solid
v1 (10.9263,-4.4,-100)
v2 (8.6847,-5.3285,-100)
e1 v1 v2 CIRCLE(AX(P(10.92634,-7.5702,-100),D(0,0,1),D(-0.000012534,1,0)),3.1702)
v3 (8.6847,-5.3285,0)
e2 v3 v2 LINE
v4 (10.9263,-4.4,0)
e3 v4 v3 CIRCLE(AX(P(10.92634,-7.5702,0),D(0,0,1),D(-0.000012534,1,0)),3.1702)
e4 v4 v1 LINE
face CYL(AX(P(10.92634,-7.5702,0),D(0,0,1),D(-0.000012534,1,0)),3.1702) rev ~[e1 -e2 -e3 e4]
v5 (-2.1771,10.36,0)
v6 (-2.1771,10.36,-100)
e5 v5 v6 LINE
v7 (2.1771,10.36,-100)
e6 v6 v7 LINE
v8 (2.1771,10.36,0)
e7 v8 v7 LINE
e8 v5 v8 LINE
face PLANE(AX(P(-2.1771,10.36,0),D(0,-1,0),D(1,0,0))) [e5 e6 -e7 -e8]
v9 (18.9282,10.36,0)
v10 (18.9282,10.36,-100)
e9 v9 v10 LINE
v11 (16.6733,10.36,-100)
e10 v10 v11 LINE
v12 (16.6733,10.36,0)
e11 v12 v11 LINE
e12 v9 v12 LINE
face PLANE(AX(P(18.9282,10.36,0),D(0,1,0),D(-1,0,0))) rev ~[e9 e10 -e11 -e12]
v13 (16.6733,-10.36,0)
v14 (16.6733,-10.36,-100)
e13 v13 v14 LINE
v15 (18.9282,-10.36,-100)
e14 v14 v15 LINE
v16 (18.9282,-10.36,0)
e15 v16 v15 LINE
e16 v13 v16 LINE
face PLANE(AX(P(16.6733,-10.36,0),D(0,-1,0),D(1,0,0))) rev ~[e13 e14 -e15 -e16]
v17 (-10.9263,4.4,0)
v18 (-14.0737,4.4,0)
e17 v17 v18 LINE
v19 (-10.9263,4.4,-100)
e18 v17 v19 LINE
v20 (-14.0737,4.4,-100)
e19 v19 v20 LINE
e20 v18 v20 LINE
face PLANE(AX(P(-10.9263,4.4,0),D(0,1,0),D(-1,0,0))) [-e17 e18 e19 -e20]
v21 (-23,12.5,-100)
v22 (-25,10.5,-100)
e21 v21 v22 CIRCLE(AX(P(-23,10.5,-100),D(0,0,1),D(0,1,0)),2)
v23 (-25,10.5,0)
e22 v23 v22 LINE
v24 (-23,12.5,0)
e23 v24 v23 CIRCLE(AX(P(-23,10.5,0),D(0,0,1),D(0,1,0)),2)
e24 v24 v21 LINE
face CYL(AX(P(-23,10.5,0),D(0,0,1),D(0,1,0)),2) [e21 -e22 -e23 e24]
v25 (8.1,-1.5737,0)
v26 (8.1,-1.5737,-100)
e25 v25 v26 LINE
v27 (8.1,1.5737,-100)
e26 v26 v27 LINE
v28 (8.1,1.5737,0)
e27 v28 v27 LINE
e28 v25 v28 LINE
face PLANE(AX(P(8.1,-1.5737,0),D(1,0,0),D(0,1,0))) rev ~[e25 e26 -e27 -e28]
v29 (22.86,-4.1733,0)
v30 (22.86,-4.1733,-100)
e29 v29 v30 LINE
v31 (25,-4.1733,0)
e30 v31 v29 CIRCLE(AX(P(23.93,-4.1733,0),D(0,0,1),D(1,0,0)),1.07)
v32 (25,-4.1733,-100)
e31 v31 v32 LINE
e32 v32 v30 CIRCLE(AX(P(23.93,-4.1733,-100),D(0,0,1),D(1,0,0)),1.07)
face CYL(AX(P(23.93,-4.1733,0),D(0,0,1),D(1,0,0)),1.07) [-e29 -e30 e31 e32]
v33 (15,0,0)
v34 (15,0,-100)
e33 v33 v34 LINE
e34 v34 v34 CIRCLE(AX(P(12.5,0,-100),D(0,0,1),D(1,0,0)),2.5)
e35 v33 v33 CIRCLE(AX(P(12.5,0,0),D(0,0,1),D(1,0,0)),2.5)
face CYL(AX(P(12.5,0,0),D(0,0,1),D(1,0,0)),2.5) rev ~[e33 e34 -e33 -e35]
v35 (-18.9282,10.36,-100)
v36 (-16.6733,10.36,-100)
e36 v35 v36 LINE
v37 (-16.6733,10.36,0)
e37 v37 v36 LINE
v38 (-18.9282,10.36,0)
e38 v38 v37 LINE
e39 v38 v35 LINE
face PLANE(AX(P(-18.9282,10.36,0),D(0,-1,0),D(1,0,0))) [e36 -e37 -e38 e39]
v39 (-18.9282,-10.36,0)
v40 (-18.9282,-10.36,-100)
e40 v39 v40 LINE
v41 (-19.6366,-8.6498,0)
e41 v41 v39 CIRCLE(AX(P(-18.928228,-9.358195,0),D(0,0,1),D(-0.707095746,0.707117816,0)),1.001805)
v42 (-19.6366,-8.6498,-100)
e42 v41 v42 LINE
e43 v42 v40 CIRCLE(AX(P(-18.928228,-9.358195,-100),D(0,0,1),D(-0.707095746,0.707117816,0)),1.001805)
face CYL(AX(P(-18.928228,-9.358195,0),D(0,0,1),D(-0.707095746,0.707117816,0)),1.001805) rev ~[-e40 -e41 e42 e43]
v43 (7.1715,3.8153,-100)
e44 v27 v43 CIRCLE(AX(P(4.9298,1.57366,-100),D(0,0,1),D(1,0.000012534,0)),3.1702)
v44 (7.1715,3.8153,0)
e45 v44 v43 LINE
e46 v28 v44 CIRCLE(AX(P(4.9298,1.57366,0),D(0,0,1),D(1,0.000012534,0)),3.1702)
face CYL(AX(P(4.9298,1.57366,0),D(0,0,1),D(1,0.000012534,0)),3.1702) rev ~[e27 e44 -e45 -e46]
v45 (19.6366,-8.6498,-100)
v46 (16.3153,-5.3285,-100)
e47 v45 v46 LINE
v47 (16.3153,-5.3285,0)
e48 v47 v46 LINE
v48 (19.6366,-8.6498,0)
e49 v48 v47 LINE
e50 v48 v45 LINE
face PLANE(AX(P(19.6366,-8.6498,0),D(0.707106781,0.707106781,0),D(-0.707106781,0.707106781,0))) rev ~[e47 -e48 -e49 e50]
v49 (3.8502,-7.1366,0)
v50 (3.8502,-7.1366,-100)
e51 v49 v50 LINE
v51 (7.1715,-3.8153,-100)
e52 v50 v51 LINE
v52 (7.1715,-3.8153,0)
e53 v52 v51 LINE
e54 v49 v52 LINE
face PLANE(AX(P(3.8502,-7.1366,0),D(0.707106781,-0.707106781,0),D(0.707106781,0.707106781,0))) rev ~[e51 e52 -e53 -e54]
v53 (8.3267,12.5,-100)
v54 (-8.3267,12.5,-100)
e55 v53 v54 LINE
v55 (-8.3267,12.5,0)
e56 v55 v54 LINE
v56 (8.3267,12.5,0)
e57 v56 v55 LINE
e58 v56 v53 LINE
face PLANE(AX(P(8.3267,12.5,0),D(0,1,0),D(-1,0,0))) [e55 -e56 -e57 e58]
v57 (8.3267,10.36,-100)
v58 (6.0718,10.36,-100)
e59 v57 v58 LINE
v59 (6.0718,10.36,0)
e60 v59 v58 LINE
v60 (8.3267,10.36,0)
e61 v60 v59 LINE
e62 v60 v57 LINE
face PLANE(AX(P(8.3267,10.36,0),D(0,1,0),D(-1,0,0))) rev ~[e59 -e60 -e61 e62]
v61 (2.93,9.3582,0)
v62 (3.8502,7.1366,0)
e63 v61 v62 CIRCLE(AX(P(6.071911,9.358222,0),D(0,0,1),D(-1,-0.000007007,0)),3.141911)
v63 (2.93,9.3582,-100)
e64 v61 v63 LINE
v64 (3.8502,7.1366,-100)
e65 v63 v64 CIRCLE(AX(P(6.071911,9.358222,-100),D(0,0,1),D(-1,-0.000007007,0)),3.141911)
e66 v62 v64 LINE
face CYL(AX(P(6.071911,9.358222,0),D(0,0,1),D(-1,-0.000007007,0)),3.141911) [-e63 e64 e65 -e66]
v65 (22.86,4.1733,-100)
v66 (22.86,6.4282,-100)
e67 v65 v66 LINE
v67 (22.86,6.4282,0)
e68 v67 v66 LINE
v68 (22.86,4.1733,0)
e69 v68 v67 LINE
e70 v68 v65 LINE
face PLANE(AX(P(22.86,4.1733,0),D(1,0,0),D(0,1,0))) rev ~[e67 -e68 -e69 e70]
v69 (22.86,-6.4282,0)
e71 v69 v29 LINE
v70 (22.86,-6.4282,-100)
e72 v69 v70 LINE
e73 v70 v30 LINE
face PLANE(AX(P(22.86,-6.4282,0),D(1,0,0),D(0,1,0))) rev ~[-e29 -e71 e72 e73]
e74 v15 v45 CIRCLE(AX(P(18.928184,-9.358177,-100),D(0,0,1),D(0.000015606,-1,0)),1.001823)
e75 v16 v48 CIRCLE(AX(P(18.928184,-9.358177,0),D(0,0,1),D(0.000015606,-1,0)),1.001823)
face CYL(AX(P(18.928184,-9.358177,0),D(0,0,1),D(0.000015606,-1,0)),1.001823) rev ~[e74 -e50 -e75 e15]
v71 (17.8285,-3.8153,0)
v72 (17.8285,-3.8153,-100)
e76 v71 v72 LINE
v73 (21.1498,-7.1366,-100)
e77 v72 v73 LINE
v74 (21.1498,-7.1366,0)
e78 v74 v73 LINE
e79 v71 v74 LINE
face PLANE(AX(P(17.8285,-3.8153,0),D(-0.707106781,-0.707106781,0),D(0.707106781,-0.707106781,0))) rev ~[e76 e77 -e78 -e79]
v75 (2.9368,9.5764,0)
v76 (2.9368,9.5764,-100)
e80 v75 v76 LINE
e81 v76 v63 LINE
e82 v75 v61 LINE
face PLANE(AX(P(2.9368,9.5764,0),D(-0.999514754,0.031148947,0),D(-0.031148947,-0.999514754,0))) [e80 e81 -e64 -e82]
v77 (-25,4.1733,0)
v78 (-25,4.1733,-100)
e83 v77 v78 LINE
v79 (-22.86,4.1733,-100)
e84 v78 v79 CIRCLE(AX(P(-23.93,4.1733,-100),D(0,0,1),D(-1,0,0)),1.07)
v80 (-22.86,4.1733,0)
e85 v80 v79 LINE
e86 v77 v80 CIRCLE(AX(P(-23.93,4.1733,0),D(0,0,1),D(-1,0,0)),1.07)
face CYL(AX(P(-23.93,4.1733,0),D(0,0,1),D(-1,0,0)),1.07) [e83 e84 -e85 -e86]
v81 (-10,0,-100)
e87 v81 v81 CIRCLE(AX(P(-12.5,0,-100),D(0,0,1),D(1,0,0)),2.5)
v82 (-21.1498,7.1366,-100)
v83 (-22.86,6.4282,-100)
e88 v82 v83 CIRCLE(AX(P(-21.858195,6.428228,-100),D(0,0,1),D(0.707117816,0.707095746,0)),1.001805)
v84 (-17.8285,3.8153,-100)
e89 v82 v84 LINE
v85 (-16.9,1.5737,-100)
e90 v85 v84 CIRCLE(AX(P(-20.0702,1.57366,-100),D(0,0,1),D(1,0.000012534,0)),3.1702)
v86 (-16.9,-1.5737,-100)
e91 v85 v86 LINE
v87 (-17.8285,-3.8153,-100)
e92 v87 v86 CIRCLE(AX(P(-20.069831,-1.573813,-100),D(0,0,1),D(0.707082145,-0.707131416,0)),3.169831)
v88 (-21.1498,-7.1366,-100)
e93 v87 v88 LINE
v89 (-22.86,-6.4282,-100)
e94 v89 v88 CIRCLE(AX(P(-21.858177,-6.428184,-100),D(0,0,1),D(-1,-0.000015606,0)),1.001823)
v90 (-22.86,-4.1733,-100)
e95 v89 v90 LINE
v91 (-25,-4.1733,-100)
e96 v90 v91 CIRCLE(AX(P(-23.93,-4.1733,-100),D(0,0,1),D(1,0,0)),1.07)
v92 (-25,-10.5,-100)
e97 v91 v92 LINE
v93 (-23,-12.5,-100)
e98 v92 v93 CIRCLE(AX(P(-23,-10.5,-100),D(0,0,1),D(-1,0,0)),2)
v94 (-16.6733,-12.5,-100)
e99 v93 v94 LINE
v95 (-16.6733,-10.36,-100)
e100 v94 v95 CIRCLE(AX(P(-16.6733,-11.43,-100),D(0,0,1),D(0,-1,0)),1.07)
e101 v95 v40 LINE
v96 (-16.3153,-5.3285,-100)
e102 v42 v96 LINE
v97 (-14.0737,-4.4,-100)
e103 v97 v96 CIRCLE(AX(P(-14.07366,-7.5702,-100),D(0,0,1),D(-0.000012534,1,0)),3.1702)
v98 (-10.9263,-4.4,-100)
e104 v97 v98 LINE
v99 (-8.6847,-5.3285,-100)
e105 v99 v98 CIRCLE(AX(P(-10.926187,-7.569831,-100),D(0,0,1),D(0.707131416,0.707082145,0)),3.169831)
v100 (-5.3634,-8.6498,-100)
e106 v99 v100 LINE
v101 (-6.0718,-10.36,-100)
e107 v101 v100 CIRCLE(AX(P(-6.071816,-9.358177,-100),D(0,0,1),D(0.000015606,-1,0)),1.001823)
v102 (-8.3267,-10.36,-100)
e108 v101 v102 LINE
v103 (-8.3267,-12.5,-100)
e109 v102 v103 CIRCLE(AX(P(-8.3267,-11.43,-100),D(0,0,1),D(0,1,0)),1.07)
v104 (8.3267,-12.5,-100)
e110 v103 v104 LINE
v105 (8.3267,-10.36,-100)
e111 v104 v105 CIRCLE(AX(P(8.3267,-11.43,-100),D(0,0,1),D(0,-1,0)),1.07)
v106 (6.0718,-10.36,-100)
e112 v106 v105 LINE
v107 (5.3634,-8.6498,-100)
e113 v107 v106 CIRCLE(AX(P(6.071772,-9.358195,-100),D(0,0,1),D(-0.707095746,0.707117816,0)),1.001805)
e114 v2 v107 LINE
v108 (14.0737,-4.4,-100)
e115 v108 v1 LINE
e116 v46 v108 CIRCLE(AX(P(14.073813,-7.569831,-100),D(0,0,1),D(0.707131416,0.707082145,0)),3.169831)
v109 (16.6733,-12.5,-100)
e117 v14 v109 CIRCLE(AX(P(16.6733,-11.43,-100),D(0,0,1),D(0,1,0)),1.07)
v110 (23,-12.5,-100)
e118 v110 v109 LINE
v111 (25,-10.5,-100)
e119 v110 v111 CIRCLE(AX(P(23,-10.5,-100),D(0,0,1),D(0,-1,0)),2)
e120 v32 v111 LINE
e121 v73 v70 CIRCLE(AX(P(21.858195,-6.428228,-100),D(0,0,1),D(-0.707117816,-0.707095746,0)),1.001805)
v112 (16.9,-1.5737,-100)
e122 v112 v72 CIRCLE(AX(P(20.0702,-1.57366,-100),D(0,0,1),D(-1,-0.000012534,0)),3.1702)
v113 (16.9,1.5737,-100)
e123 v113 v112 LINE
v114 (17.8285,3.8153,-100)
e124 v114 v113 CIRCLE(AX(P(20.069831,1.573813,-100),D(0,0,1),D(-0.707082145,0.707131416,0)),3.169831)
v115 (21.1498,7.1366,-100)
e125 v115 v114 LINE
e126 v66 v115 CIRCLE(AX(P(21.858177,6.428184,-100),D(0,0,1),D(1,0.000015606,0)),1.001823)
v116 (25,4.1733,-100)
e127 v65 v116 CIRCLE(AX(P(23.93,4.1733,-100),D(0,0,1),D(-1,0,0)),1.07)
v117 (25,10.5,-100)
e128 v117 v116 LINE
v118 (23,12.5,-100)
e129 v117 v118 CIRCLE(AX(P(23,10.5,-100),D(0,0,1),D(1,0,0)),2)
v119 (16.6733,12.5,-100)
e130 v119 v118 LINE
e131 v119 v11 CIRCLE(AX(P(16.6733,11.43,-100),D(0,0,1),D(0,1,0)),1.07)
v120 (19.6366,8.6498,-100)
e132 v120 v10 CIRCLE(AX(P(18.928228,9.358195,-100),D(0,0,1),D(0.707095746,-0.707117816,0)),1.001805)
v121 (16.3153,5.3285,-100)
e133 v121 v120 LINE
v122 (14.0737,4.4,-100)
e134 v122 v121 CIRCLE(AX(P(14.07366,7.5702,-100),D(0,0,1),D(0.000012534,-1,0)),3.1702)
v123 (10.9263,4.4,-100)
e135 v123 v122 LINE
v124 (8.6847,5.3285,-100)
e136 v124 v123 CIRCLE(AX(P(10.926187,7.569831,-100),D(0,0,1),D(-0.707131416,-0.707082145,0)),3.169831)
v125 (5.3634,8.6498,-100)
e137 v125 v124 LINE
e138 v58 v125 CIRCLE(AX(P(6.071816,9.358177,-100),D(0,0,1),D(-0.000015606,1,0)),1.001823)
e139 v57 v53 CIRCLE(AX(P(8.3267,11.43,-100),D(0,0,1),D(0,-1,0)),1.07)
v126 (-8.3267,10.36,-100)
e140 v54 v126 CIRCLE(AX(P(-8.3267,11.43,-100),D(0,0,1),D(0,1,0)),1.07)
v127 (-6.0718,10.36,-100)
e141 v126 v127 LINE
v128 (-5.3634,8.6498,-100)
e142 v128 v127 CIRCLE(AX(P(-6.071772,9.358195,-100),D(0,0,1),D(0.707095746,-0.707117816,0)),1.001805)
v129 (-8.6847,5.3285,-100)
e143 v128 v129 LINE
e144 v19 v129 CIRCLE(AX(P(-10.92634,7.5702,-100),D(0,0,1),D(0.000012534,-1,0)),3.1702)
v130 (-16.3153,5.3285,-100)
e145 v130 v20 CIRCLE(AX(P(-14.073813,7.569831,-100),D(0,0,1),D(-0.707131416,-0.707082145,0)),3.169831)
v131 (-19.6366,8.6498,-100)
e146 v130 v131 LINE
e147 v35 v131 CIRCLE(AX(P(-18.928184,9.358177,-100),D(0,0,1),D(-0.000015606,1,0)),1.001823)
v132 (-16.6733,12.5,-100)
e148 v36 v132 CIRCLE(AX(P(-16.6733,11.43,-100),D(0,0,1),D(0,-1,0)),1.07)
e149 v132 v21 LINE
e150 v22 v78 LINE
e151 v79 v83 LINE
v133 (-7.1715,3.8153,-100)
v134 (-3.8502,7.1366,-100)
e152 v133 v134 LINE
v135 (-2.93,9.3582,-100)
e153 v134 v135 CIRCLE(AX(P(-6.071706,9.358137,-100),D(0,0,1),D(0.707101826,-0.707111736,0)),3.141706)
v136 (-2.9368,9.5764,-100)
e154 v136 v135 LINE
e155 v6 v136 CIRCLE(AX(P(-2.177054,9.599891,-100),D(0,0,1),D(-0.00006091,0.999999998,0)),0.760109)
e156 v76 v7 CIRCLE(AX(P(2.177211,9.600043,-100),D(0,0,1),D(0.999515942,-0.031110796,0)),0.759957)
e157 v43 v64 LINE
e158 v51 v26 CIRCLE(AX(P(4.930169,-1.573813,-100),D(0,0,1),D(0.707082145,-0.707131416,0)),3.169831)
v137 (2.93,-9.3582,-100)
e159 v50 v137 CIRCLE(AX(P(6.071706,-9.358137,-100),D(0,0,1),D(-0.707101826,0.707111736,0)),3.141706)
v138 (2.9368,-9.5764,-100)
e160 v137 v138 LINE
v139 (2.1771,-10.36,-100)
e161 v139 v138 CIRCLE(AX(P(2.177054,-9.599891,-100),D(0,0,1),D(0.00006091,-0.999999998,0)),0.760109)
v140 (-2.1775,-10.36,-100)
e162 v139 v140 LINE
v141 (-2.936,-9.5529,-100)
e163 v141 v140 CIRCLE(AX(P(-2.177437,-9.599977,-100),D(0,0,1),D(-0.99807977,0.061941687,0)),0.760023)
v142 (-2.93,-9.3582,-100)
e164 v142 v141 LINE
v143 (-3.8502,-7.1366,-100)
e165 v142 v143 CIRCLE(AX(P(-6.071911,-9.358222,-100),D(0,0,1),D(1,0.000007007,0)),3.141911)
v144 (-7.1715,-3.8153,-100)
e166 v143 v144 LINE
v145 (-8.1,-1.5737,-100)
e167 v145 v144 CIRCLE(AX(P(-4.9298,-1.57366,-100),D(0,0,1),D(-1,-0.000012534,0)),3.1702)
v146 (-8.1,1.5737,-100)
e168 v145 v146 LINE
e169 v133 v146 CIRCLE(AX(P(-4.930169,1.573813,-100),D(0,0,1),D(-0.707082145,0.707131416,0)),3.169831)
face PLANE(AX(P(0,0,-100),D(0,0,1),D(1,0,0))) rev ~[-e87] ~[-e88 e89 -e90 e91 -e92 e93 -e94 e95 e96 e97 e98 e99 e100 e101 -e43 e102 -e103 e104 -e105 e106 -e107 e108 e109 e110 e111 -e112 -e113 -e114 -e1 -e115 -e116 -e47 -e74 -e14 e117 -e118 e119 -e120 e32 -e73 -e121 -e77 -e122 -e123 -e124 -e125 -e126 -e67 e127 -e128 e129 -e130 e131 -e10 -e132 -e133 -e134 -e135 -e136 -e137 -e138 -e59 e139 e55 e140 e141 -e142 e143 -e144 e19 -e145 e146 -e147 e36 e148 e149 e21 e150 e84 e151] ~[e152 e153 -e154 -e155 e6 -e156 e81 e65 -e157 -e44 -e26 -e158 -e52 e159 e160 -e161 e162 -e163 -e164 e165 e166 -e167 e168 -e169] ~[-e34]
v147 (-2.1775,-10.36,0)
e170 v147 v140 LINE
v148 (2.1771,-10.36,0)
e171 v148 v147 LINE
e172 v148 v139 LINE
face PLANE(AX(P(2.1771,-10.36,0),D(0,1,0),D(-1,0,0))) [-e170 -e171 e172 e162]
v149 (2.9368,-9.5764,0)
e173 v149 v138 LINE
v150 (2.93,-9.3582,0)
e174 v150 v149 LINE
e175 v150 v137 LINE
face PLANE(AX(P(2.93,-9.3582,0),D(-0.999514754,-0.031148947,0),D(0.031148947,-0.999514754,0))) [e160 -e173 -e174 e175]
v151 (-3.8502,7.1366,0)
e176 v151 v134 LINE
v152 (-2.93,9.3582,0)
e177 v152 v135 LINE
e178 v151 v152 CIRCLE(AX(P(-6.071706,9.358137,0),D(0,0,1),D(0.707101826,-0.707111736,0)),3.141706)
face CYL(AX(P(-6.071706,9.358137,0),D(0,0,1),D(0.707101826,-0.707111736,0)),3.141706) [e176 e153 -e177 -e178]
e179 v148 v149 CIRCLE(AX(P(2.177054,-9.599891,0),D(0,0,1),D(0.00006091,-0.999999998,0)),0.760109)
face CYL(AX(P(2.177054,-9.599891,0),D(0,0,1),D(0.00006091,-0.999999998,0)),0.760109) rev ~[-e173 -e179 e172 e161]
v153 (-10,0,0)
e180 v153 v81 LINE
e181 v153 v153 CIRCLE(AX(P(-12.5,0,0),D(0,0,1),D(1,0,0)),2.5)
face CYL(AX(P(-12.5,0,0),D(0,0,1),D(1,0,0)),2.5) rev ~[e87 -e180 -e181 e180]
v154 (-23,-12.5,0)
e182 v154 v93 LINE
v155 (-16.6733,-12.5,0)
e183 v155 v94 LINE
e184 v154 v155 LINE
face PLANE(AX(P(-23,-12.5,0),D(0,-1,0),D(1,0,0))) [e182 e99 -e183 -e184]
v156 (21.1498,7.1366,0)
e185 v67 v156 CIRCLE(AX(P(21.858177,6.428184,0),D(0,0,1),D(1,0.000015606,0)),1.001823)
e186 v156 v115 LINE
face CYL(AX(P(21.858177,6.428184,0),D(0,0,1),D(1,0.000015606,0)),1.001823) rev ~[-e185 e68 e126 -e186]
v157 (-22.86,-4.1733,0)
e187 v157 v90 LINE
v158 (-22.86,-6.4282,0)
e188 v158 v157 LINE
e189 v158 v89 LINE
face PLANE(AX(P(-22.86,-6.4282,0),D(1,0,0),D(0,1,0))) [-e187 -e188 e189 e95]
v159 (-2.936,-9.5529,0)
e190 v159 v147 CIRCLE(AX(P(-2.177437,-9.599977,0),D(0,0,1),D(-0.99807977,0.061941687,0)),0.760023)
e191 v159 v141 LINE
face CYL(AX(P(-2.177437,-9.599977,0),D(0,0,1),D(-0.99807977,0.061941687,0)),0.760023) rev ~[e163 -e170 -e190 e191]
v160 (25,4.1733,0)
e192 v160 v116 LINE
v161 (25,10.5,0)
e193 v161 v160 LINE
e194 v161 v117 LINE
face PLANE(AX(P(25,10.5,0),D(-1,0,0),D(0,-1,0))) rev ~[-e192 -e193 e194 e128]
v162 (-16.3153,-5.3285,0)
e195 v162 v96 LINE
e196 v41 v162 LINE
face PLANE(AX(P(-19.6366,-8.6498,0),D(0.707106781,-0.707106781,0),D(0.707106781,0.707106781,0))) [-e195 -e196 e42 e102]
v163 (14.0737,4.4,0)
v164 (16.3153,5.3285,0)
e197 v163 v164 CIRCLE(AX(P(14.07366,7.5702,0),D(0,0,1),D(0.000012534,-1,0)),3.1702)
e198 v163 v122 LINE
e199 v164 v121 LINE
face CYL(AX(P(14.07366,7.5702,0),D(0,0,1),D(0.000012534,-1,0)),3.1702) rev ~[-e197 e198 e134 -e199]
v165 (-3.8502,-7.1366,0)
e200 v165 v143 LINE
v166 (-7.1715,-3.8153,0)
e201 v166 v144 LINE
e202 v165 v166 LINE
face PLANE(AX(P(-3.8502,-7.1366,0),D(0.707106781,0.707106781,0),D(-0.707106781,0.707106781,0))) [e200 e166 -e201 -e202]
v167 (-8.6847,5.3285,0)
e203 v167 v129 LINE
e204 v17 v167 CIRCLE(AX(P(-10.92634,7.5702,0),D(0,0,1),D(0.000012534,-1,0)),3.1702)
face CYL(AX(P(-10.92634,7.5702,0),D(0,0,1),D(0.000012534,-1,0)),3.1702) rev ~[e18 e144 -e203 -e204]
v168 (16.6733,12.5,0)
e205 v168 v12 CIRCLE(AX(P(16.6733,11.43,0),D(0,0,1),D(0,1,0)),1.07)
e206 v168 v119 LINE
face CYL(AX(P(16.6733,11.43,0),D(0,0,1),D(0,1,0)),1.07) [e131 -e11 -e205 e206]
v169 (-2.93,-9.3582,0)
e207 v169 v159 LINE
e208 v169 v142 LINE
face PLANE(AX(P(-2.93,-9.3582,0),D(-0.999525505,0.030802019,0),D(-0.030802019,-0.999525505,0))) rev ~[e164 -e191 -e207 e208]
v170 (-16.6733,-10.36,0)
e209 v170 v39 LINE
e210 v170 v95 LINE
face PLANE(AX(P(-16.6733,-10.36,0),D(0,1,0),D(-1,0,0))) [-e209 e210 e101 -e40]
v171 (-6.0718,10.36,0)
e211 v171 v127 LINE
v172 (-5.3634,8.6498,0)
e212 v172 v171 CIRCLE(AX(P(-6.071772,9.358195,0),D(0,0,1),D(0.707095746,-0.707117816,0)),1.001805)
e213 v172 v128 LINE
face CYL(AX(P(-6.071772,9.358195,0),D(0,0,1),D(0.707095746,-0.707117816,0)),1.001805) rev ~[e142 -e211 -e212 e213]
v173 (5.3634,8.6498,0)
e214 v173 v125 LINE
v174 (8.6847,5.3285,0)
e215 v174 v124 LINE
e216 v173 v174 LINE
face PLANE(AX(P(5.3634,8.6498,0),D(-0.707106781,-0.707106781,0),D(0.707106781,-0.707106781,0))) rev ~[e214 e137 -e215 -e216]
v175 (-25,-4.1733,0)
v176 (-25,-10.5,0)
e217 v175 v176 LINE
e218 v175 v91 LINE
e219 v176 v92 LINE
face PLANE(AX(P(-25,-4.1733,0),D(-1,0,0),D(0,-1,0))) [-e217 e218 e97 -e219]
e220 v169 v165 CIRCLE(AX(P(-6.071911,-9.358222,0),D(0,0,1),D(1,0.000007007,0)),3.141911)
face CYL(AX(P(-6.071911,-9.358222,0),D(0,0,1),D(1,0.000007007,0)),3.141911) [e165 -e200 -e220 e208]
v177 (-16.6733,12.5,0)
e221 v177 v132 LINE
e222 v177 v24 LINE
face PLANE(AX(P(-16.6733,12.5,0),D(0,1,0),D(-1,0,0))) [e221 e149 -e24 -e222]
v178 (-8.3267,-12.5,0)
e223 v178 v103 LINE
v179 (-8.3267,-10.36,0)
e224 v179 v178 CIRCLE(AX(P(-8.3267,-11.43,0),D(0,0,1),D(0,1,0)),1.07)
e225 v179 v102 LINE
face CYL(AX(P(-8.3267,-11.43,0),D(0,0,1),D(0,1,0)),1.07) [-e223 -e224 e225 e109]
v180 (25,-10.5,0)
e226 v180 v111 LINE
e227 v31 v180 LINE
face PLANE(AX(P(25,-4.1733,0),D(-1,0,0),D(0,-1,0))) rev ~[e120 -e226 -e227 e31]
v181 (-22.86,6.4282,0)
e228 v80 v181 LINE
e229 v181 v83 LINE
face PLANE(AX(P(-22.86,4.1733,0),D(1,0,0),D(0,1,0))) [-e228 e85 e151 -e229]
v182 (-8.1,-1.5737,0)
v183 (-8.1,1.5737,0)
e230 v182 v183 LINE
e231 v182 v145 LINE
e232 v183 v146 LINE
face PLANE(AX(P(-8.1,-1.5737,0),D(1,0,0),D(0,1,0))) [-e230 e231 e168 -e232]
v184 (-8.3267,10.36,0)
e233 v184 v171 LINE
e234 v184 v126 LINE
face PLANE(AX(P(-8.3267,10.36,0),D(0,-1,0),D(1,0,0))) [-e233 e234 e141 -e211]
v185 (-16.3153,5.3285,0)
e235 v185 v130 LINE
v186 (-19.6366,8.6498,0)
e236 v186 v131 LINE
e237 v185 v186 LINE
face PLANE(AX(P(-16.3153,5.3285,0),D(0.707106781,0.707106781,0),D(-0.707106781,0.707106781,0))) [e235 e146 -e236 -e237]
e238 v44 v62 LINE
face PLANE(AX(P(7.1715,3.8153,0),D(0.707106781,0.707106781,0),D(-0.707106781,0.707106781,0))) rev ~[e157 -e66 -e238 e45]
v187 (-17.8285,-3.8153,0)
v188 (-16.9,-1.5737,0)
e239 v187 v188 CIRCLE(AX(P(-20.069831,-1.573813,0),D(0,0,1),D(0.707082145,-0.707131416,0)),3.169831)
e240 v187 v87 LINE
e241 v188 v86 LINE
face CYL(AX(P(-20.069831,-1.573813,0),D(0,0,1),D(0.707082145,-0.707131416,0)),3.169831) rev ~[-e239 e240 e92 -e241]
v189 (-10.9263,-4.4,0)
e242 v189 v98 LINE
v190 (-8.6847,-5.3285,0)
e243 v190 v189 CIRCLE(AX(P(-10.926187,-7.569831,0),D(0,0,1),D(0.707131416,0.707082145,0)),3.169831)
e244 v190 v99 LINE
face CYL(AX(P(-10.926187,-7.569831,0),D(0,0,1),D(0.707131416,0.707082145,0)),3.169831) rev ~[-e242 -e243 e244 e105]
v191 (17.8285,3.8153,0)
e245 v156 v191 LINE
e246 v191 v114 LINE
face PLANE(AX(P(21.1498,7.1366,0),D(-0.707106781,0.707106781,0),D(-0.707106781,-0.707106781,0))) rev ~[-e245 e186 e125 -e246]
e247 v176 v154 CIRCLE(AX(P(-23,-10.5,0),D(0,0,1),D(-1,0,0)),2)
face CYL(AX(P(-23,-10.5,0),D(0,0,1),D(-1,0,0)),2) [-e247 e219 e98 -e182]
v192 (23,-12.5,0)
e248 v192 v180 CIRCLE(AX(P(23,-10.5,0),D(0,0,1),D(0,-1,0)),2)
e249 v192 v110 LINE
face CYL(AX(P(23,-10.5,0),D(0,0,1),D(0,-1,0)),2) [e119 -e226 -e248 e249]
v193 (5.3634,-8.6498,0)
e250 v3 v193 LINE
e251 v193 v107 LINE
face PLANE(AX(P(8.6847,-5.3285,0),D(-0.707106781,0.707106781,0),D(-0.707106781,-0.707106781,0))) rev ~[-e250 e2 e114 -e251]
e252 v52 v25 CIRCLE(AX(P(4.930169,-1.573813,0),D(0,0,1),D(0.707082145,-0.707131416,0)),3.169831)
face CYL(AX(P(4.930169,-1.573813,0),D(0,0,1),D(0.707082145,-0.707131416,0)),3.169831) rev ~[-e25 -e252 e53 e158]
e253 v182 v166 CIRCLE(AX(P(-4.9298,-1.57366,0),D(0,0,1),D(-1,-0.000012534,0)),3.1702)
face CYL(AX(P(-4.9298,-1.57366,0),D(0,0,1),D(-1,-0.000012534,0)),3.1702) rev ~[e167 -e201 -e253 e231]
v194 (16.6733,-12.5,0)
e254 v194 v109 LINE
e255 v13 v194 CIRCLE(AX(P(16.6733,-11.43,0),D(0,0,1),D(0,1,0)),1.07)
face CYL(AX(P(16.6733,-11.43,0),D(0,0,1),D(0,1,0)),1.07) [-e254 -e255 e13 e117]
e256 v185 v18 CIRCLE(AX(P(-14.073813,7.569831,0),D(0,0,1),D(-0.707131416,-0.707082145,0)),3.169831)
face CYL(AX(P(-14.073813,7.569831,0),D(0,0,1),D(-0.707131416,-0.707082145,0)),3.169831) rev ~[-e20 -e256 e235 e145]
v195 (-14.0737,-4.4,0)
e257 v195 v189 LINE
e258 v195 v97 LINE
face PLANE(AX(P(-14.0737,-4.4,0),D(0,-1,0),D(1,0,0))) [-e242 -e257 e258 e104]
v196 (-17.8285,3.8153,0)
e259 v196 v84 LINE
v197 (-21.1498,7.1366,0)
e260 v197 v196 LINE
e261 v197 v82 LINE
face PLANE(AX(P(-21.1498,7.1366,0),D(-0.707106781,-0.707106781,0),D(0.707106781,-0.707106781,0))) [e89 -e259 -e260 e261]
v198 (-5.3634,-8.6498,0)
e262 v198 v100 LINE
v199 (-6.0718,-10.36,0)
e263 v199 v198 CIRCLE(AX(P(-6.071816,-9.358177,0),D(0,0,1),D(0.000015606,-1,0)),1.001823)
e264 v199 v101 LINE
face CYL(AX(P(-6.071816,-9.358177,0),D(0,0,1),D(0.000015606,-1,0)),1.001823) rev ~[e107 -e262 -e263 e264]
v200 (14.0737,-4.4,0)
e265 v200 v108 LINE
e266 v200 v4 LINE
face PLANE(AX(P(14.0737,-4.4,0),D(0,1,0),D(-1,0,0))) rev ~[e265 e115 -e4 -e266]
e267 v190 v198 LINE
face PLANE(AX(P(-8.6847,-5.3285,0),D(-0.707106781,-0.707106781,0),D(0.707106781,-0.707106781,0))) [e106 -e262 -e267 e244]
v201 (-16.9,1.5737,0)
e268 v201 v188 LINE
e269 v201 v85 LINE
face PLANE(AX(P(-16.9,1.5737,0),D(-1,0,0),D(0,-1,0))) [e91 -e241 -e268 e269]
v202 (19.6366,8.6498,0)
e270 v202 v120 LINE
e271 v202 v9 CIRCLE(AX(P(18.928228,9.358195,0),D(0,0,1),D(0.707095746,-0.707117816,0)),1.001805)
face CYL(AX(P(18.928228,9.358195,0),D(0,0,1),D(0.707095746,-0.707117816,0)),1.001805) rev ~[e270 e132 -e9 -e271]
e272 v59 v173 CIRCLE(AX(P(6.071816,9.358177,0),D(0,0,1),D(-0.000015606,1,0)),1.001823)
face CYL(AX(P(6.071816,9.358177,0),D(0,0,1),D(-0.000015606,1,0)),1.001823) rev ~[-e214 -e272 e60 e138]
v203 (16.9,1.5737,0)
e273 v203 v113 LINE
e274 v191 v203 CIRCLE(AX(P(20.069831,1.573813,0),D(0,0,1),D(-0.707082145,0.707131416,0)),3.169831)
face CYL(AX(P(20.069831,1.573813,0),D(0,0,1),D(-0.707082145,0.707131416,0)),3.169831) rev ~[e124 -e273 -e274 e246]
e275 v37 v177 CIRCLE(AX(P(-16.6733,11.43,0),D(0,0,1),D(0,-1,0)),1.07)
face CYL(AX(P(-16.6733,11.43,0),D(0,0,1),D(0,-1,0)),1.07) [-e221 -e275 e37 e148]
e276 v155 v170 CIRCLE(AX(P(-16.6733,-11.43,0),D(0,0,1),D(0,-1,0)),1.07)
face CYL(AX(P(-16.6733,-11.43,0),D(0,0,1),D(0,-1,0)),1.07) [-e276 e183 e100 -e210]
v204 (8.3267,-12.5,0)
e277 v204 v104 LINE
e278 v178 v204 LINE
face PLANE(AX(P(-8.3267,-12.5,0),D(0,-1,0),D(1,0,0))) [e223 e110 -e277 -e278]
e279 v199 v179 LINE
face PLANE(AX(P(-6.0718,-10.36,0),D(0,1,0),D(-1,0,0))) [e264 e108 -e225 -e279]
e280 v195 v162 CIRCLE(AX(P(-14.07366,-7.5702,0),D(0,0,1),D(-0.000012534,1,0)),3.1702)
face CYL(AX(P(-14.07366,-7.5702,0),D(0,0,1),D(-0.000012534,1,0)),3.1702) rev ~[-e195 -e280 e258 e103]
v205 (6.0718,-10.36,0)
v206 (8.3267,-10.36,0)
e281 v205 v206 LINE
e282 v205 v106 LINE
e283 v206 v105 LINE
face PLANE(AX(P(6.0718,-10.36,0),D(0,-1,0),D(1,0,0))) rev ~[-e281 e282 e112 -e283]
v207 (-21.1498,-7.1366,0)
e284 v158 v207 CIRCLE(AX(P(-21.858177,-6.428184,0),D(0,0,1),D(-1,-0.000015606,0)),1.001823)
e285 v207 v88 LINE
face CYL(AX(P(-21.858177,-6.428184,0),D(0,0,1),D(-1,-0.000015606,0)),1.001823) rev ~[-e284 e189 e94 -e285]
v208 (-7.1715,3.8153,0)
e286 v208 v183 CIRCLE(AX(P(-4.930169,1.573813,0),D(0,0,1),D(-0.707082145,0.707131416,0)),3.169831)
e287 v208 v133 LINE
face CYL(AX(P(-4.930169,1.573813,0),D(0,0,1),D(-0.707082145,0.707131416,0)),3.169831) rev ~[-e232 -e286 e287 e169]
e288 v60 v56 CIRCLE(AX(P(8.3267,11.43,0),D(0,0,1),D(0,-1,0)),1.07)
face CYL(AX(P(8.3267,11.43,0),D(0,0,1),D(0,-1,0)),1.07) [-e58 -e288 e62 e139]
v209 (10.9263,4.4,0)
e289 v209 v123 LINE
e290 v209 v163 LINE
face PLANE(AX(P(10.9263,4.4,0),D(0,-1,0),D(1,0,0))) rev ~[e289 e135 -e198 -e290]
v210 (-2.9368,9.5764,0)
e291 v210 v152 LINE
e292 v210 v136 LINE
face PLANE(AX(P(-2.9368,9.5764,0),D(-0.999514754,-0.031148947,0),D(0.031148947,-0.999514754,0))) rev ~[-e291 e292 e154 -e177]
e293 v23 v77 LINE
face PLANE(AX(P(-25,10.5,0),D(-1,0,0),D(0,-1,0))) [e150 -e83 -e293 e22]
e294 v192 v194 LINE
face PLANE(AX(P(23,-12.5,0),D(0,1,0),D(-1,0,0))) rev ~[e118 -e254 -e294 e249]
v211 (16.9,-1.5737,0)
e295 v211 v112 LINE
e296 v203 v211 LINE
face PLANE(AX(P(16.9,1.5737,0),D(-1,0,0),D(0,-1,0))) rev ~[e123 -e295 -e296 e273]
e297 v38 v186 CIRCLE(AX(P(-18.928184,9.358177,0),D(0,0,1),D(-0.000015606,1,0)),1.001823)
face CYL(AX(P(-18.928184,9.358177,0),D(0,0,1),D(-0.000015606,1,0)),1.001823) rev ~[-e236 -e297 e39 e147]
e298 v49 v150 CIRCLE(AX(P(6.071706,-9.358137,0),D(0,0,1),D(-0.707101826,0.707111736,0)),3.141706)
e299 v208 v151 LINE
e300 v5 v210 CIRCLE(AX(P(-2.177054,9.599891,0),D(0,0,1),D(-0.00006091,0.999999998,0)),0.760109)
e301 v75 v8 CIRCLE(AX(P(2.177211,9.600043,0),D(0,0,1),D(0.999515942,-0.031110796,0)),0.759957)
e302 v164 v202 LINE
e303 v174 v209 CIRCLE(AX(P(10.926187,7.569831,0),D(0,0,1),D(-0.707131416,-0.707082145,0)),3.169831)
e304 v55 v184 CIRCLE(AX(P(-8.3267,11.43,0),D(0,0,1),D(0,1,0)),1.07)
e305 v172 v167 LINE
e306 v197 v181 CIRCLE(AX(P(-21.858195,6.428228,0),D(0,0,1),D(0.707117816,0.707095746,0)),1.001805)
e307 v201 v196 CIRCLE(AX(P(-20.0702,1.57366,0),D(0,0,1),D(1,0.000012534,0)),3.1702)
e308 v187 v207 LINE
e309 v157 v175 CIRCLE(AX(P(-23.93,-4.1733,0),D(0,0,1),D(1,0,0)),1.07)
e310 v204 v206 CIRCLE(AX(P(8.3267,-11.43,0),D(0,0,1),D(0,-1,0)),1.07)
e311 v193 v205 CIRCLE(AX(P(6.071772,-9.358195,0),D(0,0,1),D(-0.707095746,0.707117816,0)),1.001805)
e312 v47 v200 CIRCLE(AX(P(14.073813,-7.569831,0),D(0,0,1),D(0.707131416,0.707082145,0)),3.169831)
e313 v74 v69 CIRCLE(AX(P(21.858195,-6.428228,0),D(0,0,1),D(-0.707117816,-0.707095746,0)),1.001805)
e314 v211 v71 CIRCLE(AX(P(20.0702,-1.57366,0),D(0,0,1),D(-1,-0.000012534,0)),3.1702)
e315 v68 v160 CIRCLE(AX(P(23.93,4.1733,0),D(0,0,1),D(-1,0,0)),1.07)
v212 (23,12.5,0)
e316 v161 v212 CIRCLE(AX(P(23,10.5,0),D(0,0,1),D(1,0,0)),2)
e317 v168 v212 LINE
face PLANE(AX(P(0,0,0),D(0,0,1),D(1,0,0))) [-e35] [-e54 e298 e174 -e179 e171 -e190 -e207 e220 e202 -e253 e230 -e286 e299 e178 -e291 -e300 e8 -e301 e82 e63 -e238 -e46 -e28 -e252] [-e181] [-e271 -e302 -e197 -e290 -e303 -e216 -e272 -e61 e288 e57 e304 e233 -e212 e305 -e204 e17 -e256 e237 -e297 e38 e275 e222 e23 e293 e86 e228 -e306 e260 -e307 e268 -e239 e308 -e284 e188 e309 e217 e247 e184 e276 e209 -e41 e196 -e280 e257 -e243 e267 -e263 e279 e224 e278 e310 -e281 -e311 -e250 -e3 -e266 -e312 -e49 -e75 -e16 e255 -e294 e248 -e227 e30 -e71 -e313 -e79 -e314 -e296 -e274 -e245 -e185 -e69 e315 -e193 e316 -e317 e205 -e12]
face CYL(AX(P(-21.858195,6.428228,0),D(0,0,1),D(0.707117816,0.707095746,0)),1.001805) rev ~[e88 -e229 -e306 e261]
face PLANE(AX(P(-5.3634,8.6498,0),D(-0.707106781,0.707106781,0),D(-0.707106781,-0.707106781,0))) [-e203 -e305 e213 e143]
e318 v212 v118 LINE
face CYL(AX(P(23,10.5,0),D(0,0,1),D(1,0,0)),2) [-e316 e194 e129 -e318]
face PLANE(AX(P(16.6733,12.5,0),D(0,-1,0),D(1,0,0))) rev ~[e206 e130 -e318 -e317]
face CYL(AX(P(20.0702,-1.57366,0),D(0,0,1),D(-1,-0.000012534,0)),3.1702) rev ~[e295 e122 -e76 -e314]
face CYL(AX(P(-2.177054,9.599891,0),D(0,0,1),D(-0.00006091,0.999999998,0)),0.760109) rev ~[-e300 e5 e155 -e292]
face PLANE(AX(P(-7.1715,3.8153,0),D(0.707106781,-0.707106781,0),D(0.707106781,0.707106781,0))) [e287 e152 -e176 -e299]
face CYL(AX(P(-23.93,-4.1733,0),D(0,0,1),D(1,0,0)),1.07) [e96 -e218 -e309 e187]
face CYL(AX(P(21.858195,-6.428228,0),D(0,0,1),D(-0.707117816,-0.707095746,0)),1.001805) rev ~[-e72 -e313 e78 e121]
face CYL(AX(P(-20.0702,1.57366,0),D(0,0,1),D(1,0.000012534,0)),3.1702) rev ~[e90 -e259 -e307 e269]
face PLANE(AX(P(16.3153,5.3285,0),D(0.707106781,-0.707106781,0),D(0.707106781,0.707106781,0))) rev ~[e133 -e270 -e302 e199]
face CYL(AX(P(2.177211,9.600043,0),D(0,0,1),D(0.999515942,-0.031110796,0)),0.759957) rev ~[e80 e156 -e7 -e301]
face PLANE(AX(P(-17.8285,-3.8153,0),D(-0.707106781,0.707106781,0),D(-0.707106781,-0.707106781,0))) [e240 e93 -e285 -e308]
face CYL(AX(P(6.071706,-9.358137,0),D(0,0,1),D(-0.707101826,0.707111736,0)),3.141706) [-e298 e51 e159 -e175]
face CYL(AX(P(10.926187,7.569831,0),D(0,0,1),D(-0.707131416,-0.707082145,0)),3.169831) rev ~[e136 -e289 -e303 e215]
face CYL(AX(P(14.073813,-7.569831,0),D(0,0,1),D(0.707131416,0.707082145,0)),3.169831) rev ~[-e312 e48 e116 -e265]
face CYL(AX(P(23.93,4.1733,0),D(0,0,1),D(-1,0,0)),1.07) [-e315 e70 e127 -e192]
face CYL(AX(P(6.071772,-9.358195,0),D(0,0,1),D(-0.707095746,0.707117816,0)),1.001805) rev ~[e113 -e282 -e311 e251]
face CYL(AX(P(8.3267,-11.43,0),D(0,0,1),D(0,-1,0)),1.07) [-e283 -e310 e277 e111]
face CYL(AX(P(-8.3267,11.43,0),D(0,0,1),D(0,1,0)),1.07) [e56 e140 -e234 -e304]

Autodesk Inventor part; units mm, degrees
ref_plane "YZ Plane" through (0, 0, 0) normal (1, 0, 0) x (0, 1, 0)
ref_plane "XZ Plane" through (0, 0, 0) normal (0, 1, 0) x (-1, 0, 0)
ref_plane "XY Plane" through (0, 0, 0) normal (0, 0, 1) x (1, 0, 0)
sketch "Sketch1" plane through (0, 0, 0) normal (0, 0, 1) x (1, 0, 0)
  arc A0 (2.9368, 9.5764) -> (2.1771, 10.36) centre (2.1771, 9.6) ccw
  line L0 (2.9368, 9.5764) -> (2.93, 9.3582)
  arc A1 (2.93, 9.3582) -> (3.8502, 7.1366) centre (6.0718, 9.3582) ccw
  line L1 (7.1715, 3.8153) -> (3.8502, 7.1366)
  arc A2 (8.1, 1.5737) -> (7.1715, 3.8153) centre (4.93, 1.5737) ccw
  line L2 (8.1, -1.5737) -> (8.1, 1.5737)
  arc A3 (7.1715, -3.8153) -> (8.1, -1.5737) centre (4.93, -1.5737) ccw
  line L3 (3.8502, -7.1366) -> (7.1715, -3.8153)
  arc A4 (3.8502, -7.1366) -> (2.93, -9.3582) centre (6.0718, -9.3582) ccw
  line L4 (2.93, -9.3582) -> (2.9368, -9.5764)
  arc A5 (2.1771, -10.36) -> (2.9368, -9.5764) centre (2.1771, -9.6) ccw
  line L5 (2.1771, -10.36) -> (-2.1775, -10.36)
  arc A6 (-2.936, -9.5529) -> (-2.1775, -10.36) centre (-2.1775, -9.6) ccw
  line L6 (-2.93, -9.3582) -> (-2.936, -9.5529)
  arc A7 (-2.93, -9.3582) -> (-3.8502, -7.1366) centre (-6.0718, -9.3582) ccw
  line L7 (-3.8502, -7.1366) -> (-7.1715, -3.8153)
  arc A8 (-8.1, -1.5737) -> (-7.1715, -3.8153) centre (-4.93, -1.5737) ccw
  line L8 (-8.1, -1.5737) -> (-8.1, 1.5737)
  arc A9 (-7.1715, 3.8153) -> (-8.1, 1.5737) centre (-4.93, 1.5737) ccw
  line L9 (-7.1715, 3.8153) -> (-3.8502, 7.1366)
  arc A10 (-3.8502, 7.1366) -> (-2.93, 9.3582) centre (-6.0718, 9.3582) ccw
  line L10 (-2.9368, 9.5764) -> (-2.93, 9.3582)
  arc A11 (-2.1771, 10.36) -> (-2.9368, 9.5764) centre (-2.1771, 9.6) ccw
  line L11 (-2.1771, 10.36) -> (2.1771, 10.36)
  circle A12 centre (-12.5, 0) radius 2.5
  circle A13 centre (12.5, 0) radius 2.5
  line L12 (25, 10.5) -> (25, 4.1733)
  arc A14 (25, 10.5) -> (23, 12.5) centre (23, 10.5) ccw
  line L13 (16.6733, 12.5) -> (23, 12.5)
  arc A15 (16.6733, 12.5) -> (16.6733, 10.36) centre (16.6733, 11.43) ccw
  line L14 (18.9282, 10.36) -> (16.6733, 10.36)
  arc A16 (19.6366, 8.6498) -> (18.9282, 10.36) centre (18.9282, 9.3582) ccw
  line L15 (16.3153, 5.3285) -> (19.6366, 8.6498)
  arc A17 (14.0737, 4.4) -> (16.3153, 5.3285) centre (14.0737, 7.57) ccw
  line L16 (10.9263, 4.4) -> (14.0737, 4.4)
  arc A18 (8.6847, 5.3285) -> (10.9263, 4.4) centre (10.9263, 7.57) ccw
  line L17 (5.3634, 8.6498) -> (8.6847, 5.3285)
  arc A19 (6.0718, 10.36) -> (5.3634, 8.6498) centre (6.0718, 9.3582) ccw
  line L18 (8.3267, 10.36) -> (6.0718, 10.36)
  arc A20 (8.3267, 10.36) -> (8.3267, 12.5) centre (8.3267, 11.43) ccw
  line L19 (8.3267, 12.5) -> (-8.3267, 12.5)
  arc A21 (-8.3267, 12.5) -> (-8.3267, 10.36) centre (-8.3267, 11.43) ccw
  line L20 (-8.3267, 10.36) -> (-6.0718, 10.36)
  arc A22 (-5.3634, 8.6498) -> (-6.0718, 10.36) centre (-6.0718, 9.3582) ccw
  line L21 (-5.3634, 8.6498) -> (-8.6847, 5.3285)
  arc A23 (-10.9263, 4.4) -> (-8.6847, 5.3285) centre (-10.9263, 7.57) ccw
  line L22 (-10.9263, 4.4) -> (-14.0737, 4.4)
  arc A24 (-16.3153, 5.3285) -> (-14.0737, 4.4) centre (-14.0737, 7.57) ccw
  line L23 (-16.3153, 5.3285) -> (-19.6366, 8.6498)
  arc A25 (-18.9282, 10.36) -> (-19.6366, 8.6498) centre (-18.9282, 9.3582) ccw
  line L24 (-18.9282, 10.36) -> (-16.6733, 10.36)
  arc A26 (-16.6733, 10.36) -> (-16.6733, 12.5) centre (-16.6733, 11.43) ccw
  line L25 (-16.6733, 12.5) -> (-23, 12.5)
  arc A27 (-23, 12.5) -> (-25, 10.5) centre (-23, 10.5) ccw
  line L26 (-25, 10.5) -> (-25, 4.1733)
  arc A28 (-25, 4.1733) -> (-22.86, 4.1733) centre (-23.93, 4.1733) ccw
  line L27 (-22.86, 4.1733) -> (-22.86, 6.4282)
  arc A29 (-21.1498, 7.1366) -> (-22.86, 6.4282) centre (-21.8582, 6.4282) ccw
  line L28 (-21.1498, 7.1366) -> (-17.8285, 3.8153)
  arc A30 (-16.9, 1.5737) -> (-17.8285, 3.8153) centre (-20.07, 1.5737) ccw
  line L29 (-16.9, 1.5737) -> (-16.9, -1.5737)
  arc A31 (-17.8285, -3.8153) -> (-16.9, -1.5737) centre (-20.07, -1.5737) ccw
  line L30 (-17.8285, -3.8153) -> (-21.1498, -7.1366)
  arc A32 (-22.86, -6.4282) -> (-21.1498, -7.1366) centre (-21.8582, -6.4282) ccw
  line L31 (-22.86, -6.4282) -> (-22.86, -4.1733)
  arc A33 (-22.86, -4.1733) -> (-25, -4.1733) centre (-23.93, -4.1733) ccw
  line L32 (-25, -4.1733) -> (-25, -10.5)
  arc A34 (-25, -10.5) -> (-23, -12.5) centre (-23, -10.5) ccw
  line L33 (-23, -12.5) -> (-16.6733, -12.5)
  arc A35 (-16.6733, -12.5) -> (-16.6733, -10.36) centre (-16.6733, -11.43) ccw
  line L34 (-16.6733, -10.36) -> (-18.9282, -10.36)
  arc A36 (-19.6366, -8.6498) -> (-18.9282, -10.36) centre (-18.9282, -9.3582) ccw
  line L35 (-19.6366, -8.6498) -> (-16.3153, -5.3285)
  arc A37 (-14.0737, -4.4) -> (-16.3153, -5.3285) centre (-14.0737, -7.57) ccw
  line L36 (-14.0737, -4.4) -> (-10.9263, -4.4)
  arc A38 (-8.6847, -5.3285) -> (-10.9263, -4.4) centre (-10.9263, -7.57) ccw
  line L37 (-8.6847, -5.3285) -> (-5.3634, -8.6498)
  arc A39 (-6.0718, -10.36) -> (-5.3634, -8.6498) centre (-6.0718, -9.3582) ccw
  line L38 (-6.0718, -10.36) -> (-8.3267, -10.36)
  arc A40 (-8.3267, -10.36) -> (-8.3267, -12.5) centre (-8.3267, -11.43) ccw
  line L39 (-8.3267, -12.5) -> (8.3267, -12.5)
  arc A41 (8.3267, -12.5) -> (8.3267, -10.36) centre (8.3267, -11.43) ccw
  line L40 (6.0718, -10.36) -> (8.3267, -10.36)
  arc A42 (5.3634, -8.6498) -> (6.0718, -10.36) centre (6.0718, -9.3582) ccw
  line L41 (8.6847, -5.3285) -> (5.3634, -8.6498)
  arc A43 (10.9263, -4.4) -> (8.6847, -5.3285) centre (10.9263, -7.57) ccw
  line L42 (14.0737, -4.4) -> (10.9263, -4.4)
  arc A44 (16.3153, -5.3285) -> (14.0737, -4.4) centre (14.0737, -7.57) ccw
  line L43 (19.6366, -8.6498) -> (16.3153, -5.3285)
  arc A45 (18.9282, -10.36) -> (19.6366, -8.6498) centre (18.9282, -9.3582) ccw
  line L44 (16.6733, -10.36) -> (18.9282, -10.36)
  arc A46 (16.6733, -10.36) -> (16.6733, -12.5) centre (16.6733, -11.43) ccw
  line L45 (23, -12.5) -> (16.6733, -12.5)
  arc A47 (23, -12.5) -> (25, -10.5) centre (23, -10.5) ccw
  line L46 (25, -4.1733) -> (25, -10.5)
  arc A48 (25, -4.1733) -> (22.86, -4.1733) centre (23.93, -4.1733) ccw
  line L47 (22.86, -6.4282) -> (22.86, -4.1733)
  arc A49 (21.1498, -7.1366) -> (22.86, -6.4282) centre (21.8582, -6.4282) ccw
  line L48 (17.8285, -3.8153) -> (21.1498, -7.1366)
  arc A50 (16.9, -1.5737) -> (17.8285, -3.8153) centre (20.07, -1.5737) ccw
  line L49 (16.9, 1.5737) -> (16.9, -1.5737)
  arc A51 (17.8285, 3.8153) -> (16.9, 1.5737) centre (20.07, 1.5737) ccw
  line L50 (21.1498, 7.1366) -> (17.8285, 3.8153)
  arc A52 (22.86, 6.4282) -> (21.1498, 7.1366) centre (21.8582, 6.4282) ccw
  line L51 (22.86, 4.1733) -> (22.86, 6.4282)
  arc A53 (22.86, 4.1733) -> (25, 4.1733) centre (23.93, 4.1733) ccw
  point P0 (0, 0)
extrude "Extrusion1" add sketch "Sketch1" against normal blind 100
properties part number "25-2550-BLACK-FB"
